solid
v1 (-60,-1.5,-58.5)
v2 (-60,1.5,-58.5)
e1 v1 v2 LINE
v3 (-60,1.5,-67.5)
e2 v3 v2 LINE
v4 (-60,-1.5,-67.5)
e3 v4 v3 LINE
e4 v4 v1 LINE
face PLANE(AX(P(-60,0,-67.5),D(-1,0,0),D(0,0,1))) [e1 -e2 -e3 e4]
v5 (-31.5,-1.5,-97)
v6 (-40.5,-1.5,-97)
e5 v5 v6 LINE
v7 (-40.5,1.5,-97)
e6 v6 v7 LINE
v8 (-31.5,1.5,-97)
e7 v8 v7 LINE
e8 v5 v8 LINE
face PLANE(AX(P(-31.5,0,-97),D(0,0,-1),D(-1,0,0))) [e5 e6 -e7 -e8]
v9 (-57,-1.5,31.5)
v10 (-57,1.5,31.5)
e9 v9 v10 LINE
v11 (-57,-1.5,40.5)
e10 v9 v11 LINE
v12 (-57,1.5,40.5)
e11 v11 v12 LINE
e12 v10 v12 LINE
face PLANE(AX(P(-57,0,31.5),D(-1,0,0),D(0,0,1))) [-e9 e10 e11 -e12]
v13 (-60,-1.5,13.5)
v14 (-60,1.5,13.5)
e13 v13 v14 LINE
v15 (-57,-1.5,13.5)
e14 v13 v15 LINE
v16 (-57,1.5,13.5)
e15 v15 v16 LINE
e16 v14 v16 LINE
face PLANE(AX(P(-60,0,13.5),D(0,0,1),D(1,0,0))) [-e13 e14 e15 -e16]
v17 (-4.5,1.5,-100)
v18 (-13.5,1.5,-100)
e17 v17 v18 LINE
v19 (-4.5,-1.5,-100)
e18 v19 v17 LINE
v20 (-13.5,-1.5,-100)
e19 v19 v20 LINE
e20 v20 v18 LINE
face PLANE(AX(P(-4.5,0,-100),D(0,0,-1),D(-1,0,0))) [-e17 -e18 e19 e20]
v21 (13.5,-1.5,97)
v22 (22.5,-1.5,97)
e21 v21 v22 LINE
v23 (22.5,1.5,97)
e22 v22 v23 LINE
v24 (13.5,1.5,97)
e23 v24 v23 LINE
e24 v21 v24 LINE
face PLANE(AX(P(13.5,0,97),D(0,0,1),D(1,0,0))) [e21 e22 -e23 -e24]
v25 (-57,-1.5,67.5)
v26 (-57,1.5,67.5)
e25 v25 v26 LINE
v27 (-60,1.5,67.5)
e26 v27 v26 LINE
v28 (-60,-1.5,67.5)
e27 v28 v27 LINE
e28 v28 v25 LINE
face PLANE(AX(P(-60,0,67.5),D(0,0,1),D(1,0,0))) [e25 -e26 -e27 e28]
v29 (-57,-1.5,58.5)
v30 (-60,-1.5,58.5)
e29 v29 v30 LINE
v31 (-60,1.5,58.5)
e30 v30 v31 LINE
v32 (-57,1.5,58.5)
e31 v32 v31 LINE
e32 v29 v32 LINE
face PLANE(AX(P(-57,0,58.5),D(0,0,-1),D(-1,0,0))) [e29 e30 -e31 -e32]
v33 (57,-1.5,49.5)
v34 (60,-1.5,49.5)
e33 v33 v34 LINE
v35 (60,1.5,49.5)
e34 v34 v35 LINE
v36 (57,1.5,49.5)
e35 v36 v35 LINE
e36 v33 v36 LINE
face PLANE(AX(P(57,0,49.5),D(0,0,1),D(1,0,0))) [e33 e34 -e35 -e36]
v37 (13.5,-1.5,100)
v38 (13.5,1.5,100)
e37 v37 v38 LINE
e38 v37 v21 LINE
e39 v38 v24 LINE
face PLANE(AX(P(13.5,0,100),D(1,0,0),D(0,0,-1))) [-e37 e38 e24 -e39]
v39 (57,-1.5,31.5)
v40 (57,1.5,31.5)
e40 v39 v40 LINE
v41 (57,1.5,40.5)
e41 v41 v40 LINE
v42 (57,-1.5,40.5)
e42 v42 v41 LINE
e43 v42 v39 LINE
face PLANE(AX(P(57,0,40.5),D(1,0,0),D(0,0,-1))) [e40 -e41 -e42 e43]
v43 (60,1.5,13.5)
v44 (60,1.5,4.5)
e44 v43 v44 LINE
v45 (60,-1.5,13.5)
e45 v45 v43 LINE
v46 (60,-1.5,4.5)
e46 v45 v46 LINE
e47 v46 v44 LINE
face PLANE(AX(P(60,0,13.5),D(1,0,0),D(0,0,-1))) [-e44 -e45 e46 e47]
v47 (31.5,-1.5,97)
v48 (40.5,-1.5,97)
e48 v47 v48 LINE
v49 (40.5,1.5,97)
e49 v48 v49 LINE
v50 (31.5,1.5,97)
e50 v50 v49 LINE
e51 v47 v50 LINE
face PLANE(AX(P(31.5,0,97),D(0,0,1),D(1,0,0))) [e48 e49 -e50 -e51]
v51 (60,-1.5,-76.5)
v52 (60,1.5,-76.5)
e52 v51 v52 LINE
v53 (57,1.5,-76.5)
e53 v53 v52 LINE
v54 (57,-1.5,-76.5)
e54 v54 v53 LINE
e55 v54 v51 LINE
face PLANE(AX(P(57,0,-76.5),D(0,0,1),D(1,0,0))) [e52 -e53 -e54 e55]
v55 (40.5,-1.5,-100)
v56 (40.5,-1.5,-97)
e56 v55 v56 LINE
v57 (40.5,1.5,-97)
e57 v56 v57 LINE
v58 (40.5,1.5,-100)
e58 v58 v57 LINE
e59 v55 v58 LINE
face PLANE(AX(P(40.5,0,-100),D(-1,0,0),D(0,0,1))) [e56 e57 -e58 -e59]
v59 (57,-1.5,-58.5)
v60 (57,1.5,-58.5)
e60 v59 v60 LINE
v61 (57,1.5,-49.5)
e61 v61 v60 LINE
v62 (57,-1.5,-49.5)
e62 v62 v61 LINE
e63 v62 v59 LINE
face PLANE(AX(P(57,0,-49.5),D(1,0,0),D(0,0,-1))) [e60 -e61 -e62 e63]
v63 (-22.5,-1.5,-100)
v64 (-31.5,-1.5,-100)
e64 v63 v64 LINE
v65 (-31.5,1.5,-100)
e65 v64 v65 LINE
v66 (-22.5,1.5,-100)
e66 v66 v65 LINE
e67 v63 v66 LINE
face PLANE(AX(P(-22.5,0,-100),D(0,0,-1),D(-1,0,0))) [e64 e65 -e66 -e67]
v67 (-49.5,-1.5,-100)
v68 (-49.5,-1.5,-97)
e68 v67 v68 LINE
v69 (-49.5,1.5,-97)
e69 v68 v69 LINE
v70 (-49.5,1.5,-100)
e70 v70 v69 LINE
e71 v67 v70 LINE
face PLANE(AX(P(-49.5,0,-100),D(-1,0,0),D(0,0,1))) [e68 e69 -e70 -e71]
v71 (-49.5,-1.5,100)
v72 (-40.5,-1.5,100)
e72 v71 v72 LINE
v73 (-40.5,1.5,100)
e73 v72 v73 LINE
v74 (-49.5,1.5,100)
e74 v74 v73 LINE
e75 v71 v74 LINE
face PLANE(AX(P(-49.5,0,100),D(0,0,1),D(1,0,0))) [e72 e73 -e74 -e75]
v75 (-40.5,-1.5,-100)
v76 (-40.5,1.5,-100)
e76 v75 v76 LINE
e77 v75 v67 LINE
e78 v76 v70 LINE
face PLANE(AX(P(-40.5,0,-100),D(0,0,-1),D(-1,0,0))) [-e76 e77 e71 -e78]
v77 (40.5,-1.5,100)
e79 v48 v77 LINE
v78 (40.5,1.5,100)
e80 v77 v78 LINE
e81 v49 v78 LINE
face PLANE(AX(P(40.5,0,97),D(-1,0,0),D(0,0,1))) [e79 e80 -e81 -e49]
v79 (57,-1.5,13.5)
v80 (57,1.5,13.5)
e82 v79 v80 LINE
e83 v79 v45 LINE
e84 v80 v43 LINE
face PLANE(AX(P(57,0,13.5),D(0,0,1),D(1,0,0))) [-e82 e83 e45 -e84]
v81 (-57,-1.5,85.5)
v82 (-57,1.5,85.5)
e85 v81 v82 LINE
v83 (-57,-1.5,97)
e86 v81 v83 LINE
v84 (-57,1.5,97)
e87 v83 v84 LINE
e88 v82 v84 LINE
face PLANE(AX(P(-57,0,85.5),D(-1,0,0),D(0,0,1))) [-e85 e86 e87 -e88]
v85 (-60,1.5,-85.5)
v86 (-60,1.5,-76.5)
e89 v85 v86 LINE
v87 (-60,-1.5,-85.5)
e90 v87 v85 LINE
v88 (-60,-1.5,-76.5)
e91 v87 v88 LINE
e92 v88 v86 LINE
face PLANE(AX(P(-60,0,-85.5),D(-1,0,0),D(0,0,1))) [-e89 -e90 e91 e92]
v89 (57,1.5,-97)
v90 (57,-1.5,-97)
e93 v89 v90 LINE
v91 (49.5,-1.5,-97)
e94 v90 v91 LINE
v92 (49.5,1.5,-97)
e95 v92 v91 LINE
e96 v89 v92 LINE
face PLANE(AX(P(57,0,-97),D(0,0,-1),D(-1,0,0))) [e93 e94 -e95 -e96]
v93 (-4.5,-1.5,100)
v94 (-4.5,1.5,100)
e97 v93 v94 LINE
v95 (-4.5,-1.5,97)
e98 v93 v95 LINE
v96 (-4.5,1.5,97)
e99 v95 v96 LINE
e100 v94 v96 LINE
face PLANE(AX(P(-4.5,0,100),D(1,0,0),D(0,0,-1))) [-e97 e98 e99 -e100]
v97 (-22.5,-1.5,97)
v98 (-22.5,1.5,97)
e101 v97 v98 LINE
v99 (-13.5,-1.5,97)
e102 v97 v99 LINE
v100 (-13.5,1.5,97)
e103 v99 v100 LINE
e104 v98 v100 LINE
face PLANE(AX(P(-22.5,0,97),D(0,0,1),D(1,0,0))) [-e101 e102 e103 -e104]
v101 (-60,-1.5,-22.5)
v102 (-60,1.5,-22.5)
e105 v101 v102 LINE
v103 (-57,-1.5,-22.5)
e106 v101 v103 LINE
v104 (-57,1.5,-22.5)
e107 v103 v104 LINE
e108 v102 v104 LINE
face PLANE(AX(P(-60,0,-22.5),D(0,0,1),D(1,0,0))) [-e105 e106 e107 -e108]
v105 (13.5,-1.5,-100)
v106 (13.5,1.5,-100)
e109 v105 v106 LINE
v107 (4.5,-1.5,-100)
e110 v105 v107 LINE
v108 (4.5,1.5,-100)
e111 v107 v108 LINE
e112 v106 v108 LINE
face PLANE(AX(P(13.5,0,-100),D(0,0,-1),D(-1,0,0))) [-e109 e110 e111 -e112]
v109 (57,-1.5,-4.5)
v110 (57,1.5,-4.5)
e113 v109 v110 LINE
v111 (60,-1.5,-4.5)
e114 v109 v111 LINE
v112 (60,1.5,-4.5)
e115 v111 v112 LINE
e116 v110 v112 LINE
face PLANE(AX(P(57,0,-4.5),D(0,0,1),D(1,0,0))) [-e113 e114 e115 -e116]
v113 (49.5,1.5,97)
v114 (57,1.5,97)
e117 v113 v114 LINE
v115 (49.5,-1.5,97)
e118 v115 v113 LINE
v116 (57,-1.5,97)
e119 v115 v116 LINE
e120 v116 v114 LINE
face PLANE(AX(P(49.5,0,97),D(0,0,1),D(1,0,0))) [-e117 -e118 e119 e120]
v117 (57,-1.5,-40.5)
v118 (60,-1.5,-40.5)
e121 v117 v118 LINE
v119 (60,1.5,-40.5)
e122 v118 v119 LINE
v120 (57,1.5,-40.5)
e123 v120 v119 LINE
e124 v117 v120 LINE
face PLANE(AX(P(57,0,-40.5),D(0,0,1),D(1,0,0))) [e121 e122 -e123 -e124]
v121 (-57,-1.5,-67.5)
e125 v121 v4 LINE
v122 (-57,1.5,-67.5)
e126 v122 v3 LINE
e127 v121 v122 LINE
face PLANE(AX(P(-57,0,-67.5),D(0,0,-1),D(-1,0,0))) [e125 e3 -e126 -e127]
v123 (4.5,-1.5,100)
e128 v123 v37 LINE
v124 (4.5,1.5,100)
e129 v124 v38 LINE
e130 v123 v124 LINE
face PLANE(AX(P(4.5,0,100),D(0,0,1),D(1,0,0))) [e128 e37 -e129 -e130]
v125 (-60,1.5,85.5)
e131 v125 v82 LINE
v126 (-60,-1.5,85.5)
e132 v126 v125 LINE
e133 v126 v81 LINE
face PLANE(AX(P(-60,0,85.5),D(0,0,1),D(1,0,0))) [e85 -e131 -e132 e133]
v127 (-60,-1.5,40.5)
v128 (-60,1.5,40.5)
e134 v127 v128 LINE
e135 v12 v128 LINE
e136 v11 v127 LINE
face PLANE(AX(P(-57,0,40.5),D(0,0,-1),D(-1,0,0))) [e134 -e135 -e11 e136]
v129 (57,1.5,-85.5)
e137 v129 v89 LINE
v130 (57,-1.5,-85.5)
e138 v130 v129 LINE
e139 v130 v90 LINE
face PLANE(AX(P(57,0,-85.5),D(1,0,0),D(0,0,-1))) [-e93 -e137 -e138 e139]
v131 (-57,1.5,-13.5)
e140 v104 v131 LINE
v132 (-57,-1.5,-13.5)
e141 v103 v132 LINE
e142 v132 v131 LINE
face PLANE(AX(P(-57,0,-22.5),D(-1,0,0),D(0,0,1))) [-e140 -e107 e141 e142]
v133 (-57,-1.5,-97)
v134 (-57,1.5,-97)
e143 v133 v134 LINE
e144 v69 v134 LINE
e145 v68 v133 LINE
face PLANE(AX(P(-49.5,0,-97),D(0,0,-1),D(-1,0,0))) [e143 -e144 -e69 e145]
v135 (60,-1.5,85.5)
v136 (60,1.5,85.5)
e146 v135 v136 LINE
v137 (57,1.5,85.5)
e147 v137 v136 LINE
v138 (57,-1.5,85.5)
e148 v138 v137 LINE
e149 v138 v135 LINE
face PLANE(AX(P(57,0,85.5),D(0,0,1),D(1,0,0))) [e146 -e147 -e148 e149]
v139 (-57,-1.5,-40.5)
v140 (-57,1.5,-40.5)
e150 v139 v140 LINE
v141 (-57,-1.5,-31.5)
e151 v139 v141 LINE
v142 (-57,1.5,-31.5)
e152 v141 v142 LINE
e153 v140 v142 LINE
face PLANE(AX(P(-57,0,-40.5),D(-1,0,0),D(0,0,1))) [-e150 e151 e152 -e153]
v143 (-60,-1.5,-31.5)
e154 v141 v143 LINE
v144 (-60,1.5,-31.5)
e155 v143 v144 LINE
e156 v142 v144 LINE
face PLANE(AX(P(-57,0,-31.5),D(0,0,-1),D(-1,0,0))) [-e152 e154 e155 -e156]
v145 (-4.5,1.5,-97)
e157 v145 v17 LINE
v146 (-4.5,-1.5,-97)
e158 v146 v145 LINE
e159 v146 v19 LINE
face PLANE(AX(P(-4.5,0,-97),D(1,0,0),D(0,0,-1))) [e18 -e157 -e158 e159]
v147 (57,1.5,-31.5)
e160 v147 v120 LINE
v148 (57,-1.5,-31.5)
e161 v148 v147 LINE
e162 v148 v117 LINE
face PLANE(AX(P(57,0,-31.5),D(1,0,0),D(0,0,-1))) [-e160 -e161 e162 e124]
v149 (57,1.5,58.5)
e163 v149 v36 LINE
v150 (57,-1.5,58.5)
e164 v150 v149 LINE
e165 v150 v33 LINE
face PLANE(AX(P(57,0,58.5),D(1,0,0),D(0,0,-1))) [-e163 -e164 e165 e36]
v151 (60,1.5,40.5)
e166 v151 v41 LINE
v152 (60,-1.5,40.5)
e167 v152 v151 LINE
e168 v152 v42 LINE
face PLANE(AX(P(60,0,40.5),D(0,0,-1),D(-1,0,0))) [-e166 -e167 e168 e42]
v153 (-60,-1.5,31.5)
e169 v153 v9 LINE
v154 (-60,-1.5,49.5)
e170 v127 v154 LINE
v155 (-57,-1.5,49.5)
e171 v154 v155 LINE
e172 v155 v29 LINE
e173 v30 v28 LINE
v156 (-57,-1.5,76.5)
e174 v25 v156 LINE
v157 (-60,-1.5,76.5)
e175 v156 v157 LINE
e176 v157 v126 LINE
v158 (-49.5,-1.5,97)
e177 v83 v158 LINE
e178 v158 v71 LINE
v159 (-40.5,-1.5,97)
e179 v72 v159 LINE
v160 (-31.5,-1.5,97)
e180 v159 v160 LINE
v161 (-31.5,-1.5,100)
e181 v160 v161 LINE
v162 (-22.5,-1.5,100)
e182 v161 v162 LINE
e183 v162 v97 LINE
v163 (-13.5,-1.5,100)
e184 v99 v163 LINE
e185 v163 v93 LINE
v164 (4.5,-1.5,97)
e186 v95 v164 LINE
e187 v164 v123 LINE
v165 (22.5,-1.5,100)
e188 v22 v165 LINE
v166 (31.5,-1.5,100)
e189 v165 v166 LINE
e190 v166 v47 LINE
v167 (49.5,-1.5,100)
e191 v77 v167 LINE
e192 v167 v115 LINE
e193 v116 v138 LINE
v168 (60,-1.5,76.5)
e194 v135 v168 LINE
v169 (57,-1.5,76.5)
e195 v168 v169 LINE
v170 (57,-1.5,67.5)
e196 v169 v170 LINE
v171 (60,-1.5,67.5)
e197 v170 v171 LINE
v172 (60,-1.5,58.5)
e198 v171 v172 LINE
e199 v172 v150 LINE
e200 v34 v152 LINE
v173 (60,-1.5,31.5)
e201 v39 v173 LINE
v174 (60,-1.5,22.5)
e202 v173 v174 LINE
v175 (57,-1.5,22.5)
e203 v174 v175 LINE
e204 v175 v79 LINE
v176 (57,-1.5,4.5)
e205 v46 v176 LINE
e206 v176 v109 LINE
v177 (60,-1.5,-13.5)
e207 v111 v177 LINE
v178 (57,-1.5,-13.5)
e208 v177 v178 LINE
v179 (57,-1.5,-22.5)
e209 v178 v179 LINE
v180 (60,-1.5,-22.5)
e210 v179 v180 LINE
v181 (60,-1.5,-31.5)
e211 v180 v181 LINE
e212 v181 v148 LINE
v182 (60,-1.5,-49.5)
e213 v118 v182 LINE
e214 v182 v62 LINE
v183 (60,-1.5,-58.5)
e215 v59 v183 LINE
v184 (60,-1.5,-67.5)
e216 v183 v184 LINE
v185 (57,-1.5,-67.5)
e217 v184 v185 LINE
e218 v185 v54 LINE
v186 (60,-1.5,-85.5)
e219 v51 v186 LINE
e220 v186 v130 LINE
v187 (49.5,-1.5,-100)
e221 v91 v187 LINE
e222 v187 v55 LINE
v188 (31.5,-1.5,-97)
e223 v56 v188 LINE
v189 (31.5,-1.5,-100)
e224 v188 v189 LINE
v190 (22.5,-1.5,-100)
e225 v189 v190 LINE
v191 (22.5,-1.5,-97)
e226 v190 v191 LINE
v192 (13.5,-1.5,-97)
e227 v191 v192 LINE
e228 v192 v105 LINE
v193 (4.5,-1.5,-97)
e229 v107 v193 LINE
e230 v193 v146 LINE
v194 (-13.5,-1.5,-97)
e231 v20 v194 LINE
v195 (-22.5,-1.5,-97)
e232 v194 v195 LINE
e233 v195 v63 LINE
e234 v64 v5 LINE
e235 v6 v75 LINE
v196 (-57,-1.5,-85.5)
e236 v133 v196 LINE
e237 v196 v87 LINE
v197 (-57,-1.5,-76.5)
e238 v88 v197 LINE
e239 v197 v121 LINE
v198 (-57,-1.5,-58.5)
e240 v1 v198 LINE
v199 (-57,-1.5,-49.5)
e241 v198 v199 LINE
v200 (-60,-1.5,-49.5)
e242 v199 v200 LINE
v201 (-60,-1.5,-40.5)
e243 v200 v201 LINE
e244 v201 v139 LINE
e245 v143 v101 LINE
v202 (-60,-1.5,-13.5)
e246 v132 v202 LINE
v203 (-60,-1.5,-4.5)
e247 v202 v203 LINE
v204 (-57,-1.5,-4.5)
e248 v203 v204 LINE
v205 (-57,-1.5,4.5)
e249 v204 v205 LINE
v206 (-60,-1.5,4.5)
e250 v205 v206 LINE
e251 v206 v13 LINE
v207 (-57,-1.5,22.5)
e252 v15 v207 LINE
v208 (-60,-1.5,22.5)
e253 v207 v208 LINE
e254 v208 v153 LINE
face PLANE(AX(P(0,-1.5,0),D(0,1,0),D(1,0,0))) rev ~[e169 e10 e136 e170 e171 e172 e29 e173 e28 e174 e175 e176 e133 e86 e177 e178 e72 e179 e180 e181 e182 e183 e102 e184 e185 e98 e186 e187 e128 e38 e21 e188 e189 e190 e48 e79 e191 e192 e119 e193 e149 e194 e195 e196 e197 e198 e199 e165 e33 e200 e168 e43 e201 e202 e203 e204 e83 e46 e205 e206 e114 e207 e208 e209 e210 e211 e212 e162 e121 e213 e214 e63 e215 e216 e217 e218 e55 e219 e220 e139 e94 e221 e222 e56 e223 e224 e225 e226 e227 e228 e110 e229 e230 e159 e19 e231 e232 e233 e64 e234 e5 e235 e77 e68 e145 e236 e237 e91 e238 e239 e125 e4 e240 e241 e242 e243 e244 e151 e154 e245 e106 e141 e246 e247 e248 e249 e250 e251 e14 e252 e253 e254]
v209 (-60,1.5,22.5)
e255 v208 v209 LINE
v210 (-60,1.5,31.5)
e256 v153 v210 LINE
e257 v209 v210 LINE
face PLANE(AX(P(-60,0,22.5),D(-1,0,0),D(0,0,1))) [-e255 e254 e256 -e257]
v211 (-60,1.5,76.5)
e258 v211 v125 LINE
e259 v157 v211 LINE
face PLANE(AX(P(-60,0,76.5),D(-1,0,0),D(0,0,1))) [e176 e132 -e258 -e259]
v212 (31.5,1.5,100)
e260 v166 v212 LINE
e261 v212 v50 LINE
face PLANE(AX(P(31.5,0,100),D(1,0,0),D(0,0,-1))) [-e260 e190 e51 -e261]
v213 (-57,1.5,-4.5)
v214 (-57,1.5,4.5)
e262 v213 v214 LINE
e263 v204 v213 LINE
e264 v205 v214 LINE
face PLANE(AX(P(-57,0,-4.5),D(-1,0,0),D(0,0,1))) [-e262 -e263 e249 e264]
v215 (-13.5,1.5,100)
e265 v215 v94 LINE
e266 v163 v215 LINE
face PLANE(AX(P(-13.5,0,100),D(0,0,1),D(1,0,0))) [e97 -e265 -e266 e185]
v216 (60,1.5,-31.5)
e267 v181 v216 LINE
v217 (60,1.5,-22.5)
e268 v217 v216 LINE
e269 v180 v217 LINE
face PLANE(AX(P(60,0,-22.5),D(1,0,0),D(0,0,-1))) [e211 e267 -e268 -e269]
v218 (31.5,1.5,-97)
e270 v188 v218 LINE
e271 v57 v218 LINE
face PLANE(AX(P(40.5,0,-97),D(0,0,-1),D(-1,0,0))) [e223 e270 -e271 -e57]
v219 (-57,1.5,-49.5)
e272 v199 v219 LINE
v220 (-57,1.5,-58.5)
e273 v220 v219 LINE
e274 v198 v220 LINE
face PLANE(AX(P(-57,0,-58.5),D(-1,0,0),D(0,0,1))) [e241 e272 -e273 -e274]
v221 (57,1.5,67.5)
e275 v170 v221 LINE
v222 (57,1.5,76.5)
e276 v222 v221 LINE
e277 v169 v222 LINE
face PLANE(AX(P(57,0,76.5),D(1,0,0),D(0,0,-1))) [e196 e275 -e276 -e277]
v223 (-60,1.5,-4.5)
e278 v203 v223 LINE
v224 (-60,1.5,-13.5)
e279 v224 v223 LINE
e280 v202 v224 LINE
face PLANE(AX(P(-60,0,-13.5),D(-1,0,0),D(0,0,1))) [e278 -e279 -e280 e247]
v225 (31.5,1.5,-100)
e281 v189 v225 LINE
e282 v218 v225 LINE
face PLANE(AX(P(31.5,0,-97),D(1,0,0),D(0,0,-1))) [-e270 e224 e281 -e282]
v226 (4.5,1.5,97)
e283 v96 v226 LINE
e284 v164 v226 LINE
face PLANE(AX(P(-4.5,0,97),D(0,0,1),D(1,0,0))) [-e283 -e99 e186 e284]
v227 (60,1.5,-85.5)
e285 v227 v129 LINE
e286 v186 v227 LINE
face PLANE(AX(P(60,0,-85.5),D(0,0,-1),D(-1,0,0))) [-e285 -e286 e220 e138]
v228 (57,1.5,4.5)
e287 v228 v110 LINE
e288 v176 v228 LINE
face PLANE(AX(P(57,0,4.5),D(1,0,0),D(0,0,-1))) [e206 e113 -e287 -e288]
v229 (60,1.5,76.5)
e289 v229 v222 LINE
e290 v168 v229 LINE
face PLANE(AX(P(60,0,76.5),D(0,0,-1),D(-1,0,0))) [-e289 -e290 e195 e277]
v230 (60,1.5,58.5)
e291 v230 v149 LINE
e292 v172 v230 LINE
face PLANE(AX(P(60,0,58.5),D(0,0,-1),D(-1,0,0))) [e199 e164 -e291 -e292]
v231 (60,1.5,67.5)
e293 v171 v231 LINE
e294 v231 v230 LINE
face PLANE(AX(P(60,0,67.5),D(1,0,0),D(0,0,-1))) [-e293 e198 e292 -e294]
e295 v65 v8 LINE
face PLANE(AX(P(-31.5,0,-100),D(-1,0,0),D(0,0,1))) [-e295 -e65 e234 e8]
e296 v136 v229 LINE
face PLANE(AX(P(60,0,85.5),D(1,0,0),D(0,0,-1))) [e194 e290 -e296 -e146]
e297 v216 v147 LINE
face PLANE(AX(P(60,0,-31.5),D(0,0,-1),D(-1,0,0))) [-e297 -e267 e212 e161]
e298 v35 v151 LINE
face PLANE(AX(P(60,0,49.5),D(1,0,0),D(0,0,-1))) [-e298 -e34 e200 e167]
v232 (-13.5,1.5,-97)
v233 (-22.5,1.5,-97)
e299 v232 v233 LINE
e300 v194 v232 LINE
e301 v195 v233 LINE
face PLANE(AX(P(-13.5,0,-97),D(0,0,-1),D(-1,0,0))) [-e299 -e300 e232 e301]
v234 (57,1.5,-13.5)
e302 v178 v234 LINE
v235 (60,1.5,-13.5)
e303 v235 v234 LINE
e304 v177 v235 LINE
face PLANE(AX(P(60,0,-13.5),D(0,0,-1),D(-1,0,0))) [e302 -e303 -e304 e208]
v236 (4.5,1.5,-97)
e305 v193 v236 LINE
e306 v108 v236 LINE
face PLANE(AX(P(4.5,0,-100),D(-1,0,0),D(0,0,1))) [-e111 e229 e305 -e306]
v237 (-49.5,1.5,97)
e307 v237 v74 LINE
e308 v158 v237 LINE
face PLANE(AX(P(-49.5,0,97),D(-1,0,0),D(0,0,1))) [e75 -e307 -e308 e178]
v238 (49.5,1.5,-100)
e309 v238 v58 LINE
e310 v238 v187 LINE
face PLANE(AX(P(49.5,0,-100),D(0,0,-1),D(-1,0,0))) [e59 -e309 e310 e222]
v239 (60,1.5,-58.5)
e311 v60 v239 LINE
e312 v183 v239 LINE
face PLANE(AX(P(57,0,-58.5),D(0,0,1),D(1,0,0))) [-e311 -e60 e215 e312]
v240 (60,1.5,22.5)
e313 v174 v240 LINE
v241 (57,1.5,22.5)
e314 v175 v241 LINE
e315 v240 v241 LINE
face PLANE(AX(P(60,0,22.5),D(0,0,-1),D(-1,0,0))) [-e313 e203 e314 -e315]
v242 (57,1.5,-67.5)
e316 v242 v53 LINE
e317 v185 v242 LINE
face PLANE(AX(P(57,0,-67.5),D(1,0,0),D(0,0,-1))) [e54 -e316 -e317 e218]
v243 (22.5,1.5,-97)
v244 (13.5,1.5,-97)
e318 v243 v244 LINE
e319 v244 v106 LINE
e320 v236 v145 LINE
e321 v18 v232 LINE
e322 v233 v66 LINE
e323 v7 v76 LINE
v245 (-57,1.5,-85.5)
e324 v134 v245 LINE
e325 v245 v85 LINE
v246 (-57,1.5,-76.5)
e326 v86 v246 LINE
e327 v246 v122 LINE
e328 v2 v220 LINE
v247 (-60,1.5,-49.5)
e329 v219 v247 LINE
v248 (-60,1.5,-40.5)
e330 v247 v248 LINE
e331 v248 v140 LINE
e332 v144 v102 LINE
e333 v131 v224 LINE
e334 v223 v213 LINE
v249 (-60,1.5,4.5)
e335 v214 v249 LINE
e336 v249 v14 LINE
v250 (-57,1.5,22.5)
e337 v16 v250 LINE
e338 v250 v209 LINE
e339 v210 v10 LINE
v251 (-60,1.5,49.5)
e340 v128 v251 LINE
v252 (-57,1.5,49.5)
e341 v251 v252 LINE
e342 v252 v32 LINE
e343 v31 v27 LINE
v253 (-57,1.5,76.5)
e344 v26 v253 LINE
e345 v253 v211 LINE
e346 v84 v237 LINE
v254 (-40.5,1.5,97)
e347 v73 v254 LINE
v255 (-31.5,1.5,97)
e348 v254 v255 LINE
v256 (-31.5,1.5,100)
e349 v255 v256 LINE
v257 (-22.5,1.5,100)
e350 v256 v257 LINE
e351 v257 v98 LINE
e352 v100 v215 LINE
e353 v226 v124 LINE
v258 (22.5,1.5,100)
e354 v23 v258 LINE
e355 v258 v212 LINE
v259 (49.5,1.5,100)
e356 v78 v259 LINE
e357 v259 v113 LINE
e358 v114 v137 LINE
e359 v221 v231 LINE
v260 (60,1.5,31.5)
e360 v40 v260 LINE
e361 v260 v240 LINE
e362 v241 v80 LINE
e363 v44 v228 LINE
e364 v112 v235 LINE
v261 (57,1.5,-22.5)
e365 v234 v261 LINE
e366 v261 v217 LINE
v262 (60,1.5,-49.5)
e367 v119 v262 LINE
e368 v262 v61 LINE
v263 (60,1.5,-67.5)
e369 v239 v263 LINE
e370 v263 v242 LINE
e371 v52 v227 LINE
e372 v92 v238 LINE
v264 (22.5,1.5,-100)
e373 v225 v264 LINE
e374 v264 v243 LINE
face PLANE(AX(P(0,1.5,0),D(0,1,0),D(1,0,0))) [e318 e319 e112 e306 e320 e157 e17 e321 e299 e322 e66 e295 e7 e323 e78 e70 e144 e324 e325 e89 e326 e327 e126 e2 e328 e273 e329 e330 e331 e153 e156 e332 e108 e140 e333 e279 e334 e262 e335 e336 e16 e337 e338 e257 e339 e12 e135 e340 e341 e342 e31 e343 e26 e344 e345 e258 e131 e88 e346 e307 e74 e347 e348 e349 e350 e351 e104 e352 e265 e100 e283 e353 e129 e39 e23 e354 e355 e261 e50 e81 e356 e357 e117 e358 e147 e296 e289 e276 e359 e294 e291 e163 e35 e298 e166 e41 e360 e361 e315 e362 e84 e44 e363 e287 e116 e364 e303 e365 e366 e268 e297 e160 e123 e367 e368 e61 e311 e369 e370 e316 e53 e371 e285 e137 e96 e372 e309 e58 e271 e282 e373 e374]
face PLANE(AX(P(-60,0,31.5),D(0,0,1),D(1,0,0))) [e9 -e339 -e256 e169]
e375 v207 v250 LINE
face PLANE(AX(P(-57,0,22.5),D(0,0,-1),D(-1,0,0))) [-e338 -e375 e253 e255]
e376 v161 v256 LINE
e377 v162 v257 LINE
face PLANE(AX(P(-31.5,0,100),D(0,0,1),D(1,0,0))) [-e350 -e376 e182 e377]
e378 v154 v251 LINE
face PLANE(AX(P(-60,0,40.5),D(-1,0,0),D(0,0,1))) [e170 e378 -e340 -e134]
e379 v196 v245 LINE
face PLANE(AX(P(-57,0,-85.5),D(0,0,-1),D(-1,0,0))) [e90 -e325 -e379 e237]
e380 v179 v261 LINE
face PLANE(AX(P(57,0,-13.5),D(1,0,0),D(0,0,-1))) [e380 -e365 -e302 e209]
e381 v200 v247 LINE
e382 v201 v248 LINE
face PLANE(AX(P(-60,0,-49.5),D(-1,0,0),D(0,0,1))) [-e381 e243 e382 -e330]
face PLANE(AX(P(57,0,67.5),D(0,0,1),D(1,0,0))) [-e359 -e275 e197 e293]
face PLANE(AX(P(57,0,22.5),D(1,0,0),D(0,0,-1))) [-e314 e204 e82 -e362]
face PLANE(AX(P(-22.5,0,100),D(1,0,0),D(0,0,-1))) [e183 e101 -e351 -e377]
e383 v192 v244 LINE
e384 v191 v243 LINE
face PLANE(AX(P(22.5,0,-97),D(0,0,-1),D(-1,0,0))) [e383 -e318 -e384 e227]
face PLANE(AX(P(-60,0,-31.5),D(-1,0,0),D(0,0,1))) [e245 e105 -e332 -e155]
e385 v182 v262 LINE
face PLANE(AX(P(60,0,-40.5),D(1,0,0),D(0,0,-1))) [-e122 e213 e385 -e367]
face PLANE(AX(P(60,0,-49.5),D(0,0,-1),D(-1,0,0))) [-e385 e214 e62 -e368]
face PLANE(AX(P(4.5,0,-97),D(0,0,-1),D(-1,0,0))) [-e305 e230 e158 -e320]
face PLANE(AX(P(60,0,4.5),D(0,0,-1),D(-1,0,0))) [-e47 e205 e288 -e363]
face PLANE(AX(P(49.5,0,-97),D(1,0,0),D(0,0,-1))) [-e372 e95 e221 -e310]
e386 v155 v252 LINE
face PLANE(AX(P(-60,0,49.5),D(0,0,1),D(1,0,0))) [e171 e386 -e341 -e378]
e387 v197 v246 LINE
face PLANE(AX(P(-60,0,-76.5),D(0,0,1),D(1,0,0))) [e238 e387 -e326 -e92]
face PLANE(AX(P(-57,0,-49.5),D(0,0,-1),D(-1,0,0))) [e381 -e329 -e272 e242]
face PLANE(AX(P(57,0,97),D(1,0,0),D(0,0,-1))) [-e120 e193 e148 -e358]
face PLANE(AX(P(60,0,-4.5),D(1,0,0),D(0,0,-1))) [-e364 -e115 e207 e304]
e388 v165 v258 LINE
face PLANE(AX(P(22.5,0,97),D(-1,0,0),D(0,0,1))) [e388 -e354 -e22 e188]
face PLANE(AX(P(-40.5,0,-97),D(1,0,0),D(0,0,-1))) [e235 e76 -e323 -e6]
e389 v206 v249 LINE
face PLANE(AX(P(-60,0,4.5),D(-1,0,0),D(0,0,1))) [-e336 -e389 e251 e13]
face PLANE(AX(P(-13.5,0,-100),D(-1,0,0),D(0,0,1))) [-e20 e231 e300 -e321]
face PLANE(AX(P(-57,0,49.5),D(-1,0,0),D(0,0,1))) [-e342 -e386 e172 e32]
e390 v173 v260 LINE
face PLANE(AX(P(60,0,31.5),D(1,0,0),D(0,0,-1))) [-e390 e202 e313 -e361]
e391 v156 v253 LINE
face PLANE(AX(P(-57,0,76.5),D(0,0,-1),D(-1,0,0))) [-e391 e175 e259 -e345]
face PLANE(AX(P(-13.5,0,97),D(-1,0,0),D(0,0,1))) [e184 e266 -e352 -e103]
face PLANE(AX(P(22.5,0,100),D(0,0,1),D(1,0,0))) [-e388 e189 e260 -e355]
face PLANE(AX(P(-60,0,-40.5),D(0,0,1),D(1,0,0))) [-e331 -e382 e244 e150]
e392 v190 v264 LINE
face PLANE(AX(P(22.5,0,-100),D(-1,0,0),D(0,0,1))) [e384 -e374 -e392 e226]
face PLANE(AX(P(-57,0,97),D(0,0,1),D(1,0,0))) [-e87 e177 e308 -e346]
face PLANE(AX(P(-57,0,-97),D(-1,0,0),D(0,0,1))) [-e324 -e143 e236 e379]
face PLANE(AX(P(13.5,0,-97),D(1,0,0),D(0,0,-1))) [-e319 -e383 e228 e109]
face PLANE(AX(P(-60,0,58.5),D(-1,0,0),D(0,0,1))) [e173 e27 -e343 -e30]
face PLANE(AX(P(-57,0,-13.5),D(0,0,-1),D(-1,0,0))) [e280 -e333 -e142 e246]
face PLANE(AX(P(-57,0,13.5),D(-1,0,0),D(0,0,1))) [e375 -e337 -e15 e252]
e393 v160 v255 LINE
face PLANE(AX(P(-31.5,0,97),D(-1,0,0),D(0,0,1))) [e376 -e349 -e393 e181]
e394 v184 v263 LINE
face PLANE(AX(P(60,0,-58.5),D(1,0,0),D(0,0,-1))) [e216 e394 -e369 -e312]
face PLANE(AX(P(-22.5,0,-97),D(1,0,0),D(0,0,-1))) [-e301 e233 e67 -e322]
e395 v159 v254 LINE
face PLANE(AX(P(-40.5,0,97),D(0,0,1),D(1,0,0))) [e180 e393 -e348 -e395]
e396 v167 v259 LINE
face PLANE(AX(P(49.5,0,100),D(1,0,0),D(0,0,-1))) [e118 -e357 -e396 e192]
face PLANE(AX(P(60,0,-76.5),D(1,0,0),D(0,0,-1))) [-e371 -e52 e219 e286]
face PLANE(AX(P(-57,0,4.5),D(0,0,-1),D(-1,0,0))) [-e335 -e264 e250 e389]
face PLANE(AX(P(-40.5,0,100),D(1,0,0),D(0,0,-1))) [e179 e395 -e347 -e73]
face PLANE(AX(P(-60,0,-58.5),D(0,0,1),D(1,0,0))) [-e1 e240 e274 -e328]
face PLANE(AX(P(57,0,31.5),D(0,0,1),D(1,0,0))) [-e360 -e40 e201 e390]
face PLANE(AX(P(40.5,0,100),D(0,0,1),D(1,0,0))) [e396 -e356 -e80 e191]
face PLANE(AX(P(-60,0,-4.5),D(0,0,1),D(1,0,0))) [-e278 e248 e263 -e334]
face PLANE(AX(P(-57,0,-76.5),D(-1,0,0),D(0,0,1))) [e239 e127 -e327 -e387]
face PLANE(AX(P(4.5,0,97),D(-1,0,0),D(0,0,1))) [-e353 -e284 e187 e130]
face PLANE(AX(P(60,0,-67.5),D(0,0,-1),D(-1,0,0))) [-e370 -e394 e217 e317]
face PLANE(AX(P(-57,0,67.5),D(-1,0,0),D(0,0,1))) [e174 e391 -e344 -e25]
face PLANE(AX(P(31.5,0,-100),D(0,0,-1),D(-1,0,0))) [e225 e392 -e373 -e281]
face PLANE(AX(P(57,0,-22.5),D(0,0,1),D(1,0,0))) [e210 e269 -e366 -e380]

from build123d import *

# Parameters (mm, degrees)
BOSS_EXTRUDE1_DEPTH = 1.5


with BuildPart() as part:
    # Sketch1 → Boss-Extrude1 (new, symmetric)
    with BuildSketch(Plane(origin=(0, 0, 0), x_dir=(1, 0, 0), z_dir=(0, 1, 0))):
        Polygon((49.5, 100), (40.5, 100), (40.5, 97), (31.5, 97), (31.5, 100), (22.5, 100), (22.5, 97), (13.5, 97), (13.5, 100), (4.5, 100), (4.5, 97), (-4.5, 97), (-4.5, 100), (-13.5, 100), (-13.5, 97), (-22.5, 97), (-22.5, 100), (-31.5, 100), (-31.5, 97), (-40.5, 97), (-40.5, 100), (-49.5, 100), (-49.5, 97), (-57, 97), (-57, 85.5), (-60, 85.5), (-60, 76.5), (-57, 76.5), (-57, 67.5), (-60, 67.5), (-60, 58.5), (-57, 58.5), (-57, 49.5), (-60, 49.5), (-60, 40.5), (-57, 40.5), (-57, 31.5), (-60, 31.5), (-60, 22.5), (-57, 22.5), (-57, 13.5), (-60, 13.5), (-60, 4.5), (-57, 4.5), (-57, -4.5), (-60, -4.5), (-60, -13.5), (-57, -13.5), (-57, -22.5), (-60, -22.5), (-60, -31.5), (-57, -31.5), (-57, -40.5), (-60, -40.5), (-60, -49.5), (-57, -49.5), (-57, -58.5), (-60, -58.5), (-60, -67.5), (-57, -67.5), (-57, -76.5), (-60, -76.5), (-60, -85.5), (-57, -85.5), (-57, -97), (-49.5, -97), (-49.5, -100), (-40.5, -100), (-40.5, -97), (-31.5, -97), (-31.5, -100), (-22.5, -100), (-22.5, -97), (-13.5, -97), (-13.5, -100), (-4.5, -100), (-4.5, -97), (4.5, -97), (4.5, -100), (13.5, -100), (13.5, -97), (22.5, -97), (22.5, -100), (31.5, -100), (31.5, -97), (40.5, -97), (40.5, -100), (49.5, -100), (49.5, -97), (57, -97), (57, -85.5), (60, -85.5), (60, -76.5), (57, -76.5), (57, -67.5), (60, -67.5), (60, -58.5), (57, -58.5), (57, -49.5), (60, -49.5), (60, -40.5), (57, -40.5), (57, -31.5), (60, -31.5), (60, -22.5), (57, -22.5), (57, -13.5), (60, -13.5), (60, -4.5), (57, -4.5), (57, 4.5), (60, 4.5), (60, 13.5), (57, 13.5), (57, 22.5), (60, 22.5), (60, 31.5), (57, 31.5), (57, 40.5), (60, 40.5), (60, 49.5), (57, 49.5), (57, 58.5), (60, 58.5), (60, 67.5), (57, 67.5), (57, 76.5), (60, 76.5), (60, 85.5), (57, 85.5), (57, 97), (49.5, 97), align=None)
    extrude(amount=BOSS_EXTRUDE1_DEPTH, both=True)


solid = part.part
